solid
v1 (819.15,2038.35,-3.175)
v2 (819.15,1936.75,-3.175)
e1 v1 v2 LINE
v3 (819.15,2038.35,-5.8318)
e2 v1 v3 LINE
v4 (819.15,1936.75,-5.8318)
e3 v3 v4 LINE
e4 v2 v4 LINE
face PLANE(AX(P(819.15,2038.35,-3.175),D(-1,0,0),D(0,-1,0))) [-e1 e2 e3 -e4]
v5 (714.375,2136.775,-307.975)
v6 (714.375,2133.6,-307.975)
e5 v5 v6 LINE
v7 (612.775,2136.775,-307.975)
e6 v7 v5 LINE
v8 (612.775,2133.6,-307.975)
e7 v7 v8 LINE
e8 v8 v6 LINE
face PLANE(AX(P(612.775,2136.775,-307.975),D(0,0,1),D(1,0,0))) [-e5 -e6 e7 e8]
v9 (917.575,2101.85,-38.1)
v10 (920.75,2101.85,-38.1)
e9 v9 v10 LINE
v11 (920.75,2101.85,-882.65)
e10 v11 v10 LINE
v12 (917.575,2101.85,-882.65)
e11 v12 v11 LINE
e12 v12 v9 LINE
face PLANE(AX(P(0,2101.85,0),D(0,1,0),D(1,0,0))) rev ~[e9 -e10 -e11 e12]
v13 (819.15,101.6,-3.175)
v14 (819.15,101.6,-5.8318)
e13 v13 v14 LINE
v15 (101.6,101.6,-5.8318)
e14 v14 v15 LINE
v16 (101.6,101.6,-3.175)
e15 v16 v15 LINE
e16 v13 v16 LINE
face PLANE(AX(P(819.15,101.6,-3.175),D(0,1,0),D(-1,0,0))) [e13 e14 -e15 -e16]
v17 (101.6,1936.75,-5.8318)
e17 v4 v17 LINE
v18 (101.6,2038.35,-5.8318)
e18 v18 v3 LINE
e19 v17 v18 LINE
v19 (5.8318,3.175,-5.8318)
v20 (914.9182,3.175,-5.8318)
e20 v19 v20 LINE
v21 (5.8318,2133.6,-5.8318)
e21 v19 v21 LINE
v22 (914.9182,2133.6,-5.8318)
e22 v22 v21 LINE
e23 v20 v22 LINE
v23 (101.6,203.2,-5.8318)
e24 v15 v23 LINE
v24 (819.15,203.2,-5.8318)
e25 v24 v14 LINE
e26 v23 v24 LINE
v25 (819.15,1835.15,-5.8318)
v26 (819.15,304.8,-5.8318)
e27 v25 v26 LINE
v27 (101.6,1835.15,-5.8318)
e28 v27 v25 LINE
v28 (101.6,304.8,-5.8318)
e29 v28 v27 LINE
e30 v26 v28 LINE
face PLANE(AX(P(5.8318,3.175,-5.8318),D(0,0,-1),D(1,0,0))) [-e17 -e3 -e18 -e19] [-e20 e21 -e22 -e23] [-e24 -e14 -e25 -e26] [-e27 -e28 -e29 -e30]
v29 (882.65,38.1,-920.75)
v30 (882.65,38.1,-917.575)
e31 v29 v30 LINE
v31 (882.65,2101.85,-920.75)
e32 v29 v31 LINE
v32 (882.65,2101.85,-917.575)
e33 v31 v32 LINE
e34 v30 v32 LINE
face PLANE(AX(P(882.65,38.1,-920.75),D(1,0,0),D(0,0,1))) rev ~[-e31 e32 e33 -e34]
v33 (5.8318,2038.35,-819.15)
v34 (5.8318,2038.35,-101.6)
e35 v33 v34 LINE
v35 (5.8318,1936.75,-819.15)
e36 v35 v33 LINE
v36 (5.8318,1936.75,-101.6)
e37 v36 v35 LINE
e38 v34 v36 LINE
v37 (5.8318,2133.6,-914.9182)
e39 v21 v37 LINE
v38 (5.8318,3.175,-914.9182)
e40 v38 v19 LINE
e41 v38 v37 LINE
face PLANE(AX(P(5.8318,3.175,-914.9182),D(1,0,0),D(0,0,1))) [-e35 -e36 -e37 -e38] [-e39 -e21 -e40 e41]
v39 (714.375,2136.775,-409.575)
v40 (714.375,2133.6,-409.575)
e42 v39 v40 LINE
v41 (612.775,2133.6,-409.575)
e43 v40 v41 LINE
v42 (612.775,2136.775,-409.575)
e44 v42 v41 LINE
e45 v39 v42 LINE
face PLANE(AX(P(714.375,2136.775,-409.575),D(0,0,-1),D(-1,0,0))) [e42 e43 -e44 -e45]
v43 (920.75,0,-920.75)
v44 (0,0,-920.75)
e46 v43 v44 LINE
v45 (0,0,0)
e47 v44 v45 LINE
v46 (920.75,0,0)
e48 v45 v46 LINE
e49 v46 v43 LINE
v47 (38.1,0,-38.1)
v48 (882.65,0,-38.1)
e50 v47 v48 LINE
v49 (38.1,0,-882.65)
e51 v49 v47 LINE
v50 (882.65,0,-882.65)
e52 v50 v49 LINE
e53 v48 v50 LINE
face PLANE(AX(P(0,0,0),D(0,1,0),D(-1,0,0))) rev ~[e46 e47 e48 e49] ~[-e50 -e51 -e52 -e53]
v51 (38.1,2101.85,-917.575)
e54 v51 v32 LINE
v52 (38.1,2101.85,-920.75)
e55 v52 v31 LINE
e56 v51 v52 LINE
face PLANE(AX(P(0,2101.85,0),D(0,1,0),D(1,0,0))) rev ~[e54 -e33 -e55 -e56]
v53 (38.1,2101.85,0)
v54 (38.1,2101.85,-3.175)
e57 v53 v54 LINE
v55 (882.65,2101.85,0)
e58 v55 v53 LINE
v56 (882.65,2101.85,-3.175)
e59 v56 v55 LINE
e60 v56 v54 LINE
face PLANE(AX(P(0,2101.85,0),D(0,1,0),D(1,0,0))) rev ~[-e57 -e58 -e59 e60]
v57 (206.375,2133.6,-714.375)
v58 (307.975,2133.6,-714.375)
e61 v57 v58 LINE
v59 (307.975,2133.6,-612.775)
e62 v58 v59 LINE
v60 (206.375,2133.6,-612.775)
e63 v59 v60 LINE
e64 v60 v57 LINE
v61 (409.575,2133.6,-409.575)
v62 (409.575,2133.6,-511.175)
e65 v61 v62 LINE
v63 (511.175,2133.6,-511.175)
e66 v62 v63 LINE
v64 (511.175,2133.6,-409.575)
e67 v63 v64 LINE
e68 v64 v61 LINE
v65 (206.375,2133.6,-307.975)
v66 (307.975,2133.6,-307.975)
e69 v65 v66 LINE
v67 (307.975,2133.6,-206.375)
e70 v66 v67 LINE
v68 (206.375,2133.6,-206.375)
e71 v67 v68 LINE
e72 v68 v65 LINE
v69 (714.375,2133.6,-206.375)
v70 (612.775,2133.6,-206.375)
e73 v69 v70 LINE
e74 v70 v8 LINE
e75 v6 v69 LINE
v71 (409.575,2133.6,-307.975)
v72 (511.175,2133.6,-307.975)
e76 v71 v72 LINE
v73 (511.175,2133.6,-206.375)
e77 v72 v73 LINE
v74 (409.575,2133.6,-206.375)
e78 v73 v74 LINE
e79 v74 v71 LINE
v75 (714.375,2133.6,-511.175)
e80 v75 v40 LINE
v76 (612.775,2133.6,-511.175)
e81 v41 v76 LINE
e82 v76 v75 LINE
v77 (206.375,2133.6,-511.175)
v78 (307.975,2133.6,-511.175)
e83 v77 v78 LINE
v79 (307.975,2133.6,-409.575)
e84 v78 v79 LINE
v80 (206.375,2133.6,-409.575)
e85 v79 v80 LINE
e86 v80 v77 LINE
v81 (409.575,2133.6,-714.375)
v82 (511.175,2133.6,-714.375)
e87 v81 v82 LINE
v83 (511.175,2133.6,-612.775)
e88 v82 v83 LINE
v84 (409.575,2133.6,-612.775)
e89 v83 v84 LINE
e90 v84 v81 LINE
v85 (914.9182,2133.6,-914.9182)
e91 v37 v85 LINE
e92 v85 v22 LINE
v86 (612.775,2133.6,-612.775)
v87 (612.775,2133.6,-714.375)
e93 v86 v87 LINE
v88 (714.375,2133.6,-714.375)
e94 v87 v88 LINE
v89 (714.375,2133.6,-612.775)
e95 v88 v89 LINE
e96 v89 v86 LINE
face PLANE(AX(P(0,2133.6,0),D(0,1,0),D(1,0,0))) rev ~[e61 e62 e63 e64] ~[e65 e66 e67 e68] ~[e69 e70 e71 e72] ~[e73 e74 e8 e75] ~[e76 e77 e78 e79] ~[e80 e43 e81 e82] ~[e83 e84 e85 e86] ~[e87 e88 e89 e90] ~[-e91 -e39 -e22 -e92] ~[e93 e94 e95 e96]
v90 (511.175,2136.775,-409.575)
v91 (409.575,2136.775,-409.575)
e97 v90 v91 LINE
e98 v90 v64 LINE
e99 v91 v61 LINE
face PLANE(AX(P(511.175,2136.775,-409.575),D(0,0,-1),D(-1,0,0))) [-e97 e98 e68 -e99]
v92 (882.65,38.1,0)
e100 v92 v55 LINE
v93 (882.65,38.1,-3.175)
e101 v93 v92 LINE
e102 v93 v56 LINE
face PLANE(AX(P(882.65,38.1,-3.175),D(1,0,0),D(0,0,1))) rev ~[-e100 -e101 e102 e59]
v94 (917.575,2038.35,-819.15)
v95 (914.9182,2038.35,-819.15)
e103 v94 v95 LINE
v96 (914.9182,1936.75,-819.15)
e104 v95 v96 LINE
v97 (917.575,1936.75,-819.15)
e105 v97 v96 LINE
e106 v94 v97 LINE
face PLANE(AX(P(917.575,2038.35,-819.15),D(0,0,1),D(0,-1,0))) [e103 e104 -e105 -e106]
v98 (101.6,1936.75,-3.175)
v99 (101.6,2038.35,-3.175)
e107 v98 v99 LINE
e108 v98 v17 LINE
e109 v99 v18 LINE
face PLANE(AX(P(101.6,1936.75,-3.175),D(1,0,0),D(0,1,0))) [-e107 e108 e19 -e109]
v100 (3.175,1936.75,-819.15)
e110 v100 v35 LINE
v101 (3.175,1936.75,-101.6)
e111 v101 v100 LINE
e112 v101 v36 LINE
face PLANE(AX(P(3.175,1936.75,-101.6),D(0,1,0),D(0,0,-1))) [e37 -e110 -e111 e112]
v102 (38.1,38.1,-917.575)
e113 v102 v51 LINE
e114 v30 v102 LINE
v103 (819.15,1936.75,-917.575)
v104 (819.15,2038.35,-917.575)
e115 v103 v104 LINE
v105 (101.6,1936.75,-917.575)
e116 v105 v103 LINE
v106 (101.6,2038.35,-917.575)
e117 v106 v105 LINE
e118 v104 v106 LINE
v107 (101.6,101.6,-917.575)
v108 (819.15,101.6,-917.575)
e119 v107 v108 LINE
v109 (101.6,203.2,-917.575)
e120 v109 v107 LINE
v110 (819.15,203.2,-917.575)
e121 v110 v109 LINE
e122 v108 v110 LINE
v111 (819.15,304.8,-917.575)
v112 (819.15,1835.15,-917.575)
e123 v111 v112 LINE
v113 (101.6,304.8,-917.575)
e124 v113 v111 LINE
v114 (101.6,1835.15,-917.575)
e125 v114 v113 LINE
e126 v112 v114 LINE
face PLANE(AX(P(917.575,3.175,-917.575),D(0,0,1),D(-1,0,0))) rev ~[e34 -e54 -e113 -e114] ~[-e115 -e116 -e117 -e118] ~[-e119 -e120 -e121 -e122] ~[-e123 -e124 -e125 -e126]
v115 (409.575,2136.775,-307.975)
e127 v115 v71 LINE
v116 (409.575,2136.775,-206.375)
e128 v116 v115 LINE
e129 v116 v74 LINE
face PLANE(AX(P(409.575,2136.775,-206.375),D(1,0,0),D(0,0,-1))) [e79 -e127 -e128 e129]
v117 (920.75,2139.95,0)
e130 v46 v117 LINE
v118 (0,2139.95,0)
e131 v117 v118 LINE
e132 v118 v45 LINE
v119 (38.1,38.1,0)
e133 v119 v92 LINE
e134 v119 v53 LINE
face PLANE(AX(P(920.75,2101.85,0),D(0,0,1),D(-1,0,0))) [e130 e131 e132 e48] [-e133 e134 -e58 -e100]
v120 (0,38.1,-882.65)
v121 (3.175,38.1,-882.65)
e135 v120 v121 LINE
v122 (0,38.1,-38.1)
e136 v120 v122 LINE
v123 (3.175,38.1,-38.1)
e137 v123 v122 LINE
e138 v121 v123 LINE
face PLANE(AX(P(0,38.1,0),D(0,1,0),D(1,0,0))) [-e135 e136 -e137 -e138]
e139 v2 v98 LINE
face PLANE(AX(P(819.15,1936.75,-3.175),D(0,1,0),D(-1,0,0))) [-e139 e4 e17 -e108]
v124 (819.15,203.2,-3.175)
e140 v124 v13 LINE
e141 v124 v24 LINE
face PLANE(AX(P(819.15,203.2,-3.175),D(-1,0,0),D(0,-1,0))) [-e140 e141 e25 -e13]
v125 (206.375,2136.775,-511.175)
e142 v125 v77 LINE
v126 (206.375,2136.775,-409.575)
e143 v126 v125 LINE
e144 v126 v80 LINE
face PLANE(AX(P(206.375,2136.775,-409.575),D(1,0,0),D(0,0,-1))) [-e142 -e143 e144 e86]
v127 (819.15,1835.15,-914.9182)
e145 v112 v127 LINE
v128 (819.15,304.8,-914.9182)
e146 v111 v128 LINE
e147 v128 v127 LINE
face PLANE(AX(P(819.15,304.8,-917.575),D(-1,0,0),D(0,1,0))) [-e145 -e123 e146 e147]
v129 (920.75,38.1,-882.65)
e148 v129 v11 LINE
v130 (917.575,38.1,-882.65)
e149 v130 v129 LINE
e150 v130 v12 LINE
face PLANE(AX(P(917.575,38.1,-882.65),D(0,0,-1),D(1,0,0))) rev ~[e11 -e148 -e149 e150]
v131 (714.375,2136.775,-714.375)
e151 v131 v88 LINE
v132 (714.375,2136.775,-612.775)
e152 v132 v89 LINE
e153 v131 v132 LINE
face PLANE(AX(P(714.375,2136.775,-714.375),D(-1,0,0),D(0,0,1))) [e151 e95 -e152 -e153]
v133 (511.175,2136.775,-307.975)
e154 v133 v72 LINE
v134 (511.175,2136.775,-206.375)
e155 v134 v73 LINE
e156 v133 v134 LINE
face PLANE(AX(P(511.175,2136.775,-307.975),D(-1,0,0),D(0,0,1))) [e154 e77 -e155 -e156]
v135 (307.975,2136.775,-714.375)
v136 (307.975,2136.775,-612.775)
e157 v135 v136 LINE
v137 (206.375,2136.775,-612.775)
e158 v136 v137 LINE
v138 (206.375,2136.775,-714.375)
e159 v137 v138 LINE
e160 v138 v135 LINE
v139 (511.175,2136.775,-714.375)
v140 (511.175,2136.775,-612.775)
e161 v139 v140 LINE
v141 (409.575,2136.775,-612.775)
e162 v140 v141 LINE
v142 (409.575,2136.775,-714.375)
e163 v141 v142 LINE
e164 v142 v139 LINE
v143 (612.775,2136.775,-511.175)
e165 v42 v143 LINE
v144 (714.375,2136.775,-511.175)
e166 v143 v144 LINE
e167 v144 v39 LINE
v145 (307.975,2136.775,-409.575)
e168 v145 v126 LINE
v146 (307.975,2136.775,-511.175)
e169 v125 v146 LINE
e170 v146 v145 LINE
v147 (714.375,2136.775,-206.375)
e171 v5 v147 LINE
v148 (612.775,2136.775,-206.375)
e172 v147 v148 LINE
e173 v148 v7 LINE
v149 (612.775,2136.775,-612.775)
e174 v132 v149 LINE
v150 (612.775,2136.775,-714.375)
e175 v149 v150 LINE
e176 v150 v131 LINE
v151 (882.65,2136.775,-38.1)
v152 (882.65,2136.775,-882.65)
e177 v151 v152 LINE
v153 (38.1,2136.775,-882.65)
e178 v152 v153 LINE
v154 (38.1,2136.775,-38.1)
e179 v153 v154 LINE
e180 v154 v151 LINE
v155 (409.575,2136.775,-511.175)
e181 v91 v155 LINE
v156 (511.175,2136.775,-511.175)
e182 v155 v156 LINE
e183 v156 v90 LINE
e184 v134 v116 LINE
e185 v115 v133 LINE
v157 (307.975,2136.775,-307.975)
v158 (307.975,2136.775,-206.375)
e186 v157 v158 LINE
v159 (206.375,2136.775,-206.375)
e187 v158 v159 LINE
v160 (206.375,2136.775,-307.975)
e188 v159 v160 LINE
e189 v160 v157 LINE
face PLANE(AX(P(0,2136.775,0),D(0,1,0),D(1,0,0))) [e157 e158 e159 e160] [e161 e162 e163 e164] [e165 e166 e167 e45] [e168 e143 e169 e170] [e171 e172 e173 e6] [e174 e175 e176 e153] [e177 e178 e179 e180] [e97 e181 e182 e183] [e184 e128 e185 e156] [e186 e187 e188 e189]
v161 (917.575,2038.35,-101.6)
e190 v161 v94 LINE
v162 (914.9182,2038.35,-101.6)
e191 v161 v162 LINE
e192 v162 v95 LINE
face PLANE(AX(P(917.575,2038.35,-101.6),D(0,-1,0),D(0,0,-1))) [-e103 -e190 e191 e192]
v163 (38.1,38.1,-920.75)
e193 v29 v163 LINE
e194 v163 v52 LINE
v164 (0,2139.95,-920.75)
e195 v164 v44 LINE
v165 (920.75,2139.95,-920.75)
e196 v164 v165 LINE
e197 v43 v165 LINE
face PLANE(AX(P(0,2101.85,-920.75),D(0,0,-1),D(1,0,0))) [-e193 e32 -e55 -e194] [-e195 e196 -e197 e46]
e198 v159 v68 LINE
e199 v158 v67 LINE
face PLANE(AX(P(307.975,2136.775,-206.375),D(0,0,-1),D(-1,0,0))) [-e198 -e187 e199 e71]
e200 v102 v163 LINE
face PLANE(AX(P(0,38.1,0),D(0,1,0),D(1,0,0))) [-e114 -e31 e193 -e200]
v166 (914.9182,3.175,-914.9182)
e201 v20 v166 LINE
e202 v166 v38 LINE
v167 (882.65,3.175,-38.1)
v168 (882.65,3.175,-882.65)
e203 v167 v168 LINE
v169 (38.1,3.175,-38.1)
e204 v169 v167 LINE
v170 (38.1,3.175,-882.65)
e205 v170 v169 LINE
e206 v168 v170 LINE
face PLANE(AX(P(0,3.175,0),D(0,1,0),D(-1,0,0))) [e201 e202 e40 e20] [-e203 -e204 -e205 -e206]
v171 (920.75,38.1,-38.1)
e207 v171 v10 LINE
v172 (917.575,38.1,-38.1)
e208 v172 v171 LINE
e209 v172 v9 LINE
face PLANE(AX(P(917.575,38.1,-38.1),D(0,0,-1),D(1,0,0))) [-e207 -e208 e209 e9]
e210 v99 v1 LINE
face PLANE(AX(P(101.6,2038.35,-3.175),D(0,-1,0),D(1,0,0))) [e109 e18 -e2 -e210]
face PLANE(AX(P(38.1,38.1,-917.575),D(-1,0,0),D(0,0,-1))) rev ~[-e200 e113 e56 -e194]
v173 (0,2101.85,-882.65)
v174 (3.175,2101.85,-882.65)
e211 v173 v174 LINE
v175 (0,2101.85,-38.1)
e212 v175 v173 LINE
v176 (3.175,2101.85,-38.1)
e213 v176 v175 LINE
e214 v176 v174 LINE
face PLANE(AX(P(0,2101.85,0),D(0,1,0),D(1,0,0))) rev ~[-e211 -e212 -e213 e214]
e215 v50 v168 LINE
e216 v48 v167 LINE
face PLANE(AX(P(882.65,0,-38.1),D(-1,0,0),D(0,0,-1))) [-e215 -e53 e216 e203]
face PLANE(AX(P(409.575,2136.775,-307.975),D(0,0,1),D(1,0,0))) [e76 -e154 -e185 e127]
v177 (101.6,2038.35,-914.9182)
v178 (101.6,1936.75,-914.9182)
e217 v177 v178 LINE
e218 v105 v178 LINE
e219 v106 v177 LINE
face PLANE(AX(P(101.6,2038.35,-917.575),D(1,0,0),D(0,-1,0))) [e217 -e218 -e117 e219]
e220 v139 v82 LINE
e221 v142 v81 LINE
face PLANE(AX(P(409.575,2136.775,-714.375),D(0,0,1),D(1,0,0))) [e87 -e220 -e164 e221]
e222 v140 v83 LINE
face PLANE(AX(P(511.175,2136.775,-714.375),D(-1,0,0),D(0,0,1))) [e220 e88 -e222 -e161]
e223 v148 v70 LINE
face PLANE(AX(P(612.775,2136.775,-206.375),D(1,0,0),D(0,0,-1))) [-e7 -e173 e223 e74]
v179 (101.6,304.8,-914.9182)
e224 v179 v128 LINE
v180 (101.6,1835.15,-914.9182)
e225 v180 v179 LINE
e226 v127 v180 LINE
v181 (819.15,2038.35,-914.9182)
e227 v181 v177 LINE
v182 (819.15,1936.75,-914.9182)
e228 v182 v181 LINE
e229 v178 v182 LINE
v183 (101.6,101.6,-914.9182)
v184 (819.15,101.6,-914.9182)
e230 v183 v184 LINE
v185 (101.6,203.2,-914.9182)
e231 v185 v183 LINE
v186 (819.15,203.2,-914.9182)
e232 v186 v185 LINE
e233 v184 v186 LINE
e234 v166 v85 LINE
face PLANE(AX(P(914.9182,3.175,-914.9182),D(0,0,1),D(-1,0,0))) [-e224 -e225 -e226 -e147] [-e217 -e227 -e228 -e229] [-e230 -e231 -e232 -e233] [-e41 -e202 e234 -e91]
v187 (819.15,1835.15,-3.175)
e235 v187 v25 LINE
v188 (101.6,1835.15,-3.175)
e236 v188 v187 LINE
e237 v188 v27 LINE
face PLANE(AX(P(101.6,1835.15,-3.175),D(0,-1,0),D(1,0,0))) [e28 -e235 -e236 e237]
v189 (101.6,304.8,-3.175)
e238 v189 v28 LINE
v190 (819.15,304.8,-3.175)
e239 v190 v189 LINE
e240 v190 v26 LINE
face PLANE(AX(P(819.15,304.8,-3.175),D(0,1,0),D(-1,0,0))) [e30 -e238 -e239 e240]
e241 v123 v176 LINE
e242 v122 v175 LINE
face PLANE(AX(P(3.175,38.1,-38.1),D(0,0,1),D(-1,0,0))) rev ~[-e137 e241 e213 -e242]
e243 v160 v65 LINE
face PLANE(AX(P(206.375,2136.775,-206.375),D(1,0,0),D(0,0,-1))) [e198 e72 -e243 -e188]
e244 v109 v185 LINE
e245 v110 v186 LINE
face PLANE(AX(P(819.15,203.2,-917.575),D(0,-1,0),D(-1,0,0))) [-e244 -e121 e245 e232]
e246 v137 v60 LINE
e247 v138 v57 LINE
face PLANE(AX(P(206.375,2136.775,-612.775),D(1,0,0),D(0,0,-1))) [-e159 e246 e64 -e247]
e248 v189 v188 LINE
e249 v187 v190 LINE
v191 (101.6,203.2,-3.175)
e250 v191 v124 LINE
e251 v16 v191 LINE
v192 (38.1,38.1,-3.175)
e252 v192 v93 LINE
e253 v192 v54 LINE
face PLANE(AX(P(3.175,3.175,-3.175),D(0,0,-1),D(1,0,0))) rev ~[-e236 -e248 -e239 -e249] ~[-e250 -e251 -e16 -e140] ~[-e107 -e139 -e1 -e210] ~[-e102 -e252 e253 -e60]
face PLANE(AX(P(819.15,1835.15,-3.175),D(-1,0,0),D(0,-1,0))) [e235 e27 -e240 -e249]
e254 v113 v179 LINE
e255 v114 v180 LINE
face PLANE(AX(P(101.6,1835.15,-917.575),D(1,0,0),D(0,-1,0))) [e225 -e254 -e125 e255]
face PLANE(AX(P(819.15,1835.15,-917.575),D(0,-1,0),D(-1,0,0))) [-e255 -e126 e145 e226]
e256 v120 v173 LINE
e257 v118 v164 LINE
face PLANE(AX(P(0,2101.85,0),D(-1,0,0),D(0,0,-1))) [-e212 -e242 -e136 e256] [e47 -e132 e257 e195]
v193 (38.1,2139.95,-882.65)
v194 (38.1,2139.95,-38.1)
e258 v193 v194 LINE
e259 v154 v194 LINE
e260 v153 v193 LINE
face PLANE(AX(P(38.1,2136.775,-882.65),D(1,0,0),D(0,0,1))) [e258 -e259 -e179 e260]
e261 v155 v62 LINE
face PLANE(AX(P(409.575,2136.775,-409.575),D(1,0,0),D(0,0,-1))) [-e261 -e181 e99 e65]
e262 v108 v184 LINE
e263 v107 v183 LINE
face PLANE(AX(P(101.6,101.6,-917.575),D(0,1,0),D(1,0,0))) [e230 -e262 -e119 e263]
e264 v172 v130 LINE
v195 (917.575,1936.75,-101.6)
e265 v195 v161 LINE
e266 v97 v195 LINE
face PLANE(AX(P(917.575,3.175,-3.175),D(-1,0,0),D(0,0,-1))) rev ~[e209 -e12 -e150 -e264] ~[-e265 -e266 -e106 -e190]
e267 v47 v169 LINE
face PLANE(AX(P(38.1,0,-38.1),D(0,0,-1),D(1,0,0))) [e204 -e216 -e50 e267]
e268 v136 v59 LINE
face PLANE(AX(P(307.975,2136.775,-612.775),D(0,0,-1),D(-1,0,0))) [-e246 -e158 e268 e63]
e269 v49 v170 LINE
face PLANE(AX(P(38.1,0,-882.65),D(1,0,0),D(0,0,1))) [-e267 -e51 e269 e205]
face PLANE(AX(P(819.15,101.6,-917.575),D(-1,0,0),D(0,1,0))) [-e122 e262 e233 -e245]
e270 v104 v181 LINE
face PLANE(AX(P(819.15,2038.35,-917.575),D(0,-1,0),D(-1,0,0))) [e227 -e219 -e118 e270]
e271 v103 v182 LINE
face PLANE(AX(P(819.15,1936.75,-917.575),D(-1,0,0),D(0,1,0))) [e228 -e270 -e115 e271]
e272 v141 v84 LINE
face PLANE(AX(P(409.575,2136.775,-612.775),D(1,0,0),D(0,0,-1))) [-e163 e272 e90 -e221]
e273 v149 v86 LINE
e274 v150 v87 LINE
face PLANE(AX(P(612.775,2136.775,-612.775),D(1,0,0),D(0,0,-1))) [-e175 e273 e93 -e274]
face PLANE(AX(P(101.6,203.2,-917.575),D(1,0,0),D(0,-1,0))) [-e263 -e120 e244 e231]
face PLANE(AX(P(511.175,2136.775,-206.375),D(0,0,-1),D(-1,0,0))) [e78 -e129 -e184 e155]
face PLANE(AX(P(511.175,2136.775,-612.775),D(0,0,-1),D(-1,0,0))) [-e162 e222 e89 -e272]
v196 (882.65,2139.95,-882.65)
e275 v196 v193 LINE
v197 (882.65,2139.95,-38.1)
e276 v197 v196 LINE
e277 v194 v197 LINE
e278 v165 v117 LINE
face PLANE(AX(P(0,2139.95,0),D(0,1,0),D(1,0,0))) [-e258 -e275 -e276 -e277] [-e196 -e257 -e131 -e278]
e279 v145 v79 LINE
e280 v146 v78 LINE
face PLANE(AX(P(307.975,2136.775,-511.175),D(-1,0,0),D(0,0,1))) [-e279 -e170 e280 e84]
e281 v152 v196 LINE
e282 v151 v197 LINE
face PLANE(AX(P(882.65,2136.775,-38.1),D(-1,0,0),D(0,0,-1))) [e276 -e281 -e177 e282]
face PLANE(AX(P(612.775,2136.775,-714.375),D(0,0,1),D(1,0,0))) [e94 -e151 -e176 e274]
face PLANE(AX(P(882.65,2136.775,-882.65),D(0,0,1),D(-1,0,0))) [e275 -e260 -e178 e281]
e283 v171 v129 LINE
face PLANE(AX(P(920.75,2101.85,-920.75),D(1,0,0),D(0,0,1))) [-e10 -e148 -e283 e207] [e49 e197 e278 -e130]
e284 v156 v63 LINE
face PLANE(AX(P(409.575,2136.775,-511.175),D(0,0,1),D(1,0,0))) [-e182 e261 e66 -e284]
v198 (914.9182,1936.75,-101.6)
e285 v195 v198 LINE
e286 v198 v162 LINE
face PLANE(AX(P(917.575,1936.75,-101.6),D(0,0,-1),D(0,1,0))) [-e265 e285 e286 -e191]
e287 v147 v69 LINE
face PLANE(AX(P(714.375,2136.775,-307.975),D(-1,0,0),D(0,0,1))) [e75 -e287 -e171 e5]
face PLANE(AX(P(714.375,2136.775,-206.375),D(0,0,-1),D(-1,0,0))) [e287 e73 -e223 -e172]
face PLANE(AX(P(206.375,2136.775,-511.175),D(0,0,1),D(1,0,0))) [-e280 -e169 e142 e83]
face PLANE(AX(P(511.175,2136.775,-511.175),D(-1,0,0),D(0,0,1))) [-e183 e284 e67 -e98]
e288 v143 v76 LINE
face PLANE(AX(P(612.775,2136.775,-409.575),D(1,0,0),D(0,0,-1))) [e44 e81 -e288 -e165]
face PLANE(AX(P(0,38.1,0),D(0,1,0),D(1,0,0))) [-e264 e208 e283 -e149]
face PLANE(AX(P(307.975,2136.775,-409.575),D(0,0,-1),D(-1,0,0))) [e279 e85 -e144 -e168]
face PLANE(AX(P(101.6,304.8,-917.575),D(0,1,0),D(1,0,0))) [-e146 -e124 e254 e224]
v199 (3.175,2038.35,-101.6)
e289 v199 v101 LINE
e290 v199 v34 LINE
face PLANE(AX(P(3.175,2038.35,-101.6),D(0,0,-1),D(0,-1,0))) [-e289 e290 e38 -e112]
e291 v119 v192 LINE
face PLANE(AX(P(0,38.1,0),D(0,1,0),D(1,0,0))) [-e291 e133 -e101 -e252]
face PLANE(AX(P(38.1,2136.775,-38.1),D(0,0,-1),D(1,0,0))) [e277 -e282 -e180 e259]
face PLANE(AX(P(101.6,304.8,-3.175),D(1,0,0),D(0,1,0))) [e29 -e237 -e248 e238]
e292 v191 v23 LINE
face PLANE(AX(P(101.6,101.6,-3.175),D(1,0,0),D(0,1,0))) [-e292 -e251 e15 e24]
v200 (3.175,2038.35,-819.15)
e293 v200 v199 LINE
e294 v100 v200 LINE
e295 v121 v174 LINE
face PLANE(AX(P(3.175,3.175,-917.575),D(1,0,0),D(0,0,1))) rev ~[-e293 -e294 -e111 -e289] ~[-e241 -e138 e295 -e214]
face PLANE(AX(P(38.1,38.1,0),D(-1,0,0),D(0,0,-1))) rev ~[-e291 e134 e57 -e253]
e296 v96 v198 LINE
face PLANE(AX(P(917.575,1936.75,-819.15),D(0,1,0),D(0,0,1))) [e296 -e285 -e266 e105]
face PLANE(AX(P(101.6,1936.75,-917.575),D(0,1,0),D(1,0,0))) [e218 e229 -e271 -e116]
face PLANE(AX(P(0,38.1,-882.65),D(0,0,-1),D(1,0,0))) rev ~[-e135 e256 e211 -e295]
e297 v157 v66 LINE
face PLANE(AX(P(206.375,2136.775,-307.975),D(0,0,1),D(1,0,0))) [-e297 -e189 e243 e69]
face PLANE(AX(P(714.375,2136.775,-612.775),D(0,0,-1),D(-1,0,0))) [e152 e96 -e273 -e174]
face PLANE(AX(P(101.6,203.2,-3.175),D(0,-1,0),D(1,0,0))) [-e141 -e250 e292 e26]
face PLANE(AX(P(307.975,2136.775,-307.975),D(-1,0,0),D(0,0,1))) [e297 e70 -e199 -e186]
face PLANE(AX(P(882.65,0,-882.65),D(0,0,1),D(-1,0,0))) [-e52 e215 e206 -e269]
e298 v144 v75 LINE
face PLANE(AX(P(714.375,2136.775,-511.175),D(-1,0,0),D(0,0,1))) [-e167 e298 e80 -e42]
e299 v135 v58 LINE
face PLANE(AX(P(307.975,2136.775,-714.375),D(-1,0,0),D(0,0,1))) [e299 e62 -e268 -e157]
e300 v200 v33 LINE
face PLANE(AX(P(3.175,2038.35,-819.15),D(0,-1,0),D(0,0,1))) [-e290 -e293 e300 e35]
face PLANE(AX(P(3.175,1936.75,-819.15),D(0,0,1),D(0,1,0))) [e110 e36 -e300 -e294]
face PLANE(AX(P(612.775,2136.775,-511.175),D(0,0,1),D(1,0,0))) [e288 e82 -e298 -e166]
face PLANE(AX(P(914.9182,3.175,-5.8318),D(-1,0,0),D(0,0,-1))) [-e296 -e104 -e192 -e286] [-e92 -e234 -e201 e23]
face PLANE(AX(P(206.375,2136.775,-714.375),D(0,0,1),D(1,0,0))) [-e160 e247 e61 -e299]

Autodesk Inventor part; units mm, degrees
ref_plane "YZ Plane" through (0, 0, 0) normal (1, 0, 0) x (0, 1, 0)
ref_plane "XZ Plane" through (0, 0, 0) normal (0, 1, 0) x (-1, 0, 0)
ref_plane "XY Plane" through (0, 0, 0) normal (0, 0, 1) x (1, 0, 0)
sketch "Sketch1" plane through (0, 0, 0) normal (0, 1, 0) x (-1, 0, 0)
  line L0 (0, 0) -> (-920.75, 0)
  line L1 (-920.75, 0) -> (-920.75, -920.75)
  line L2 (-920.75, -920.75) -> (0, -920.75)
  line L3 (0, -920.75) -> (0, 0)
  line L4 (-38.1, -38.1) -> (-882.65, -38.1)
  line L5 (-882.65, -38.1) -> (-882.65, -882.65)
  line L6 (-882.65, -882.65) -> (-38.1, -882.65)
  line L7 (-38.1, -882.65) -> (-38.1, -38.1)
  dimension "d0" = 920.75
  dimension "d3" = 920.75
  dimension "d4" = 38.1
  dimension "d5" = 38.1
  dimension "d6" = 38.1
  dimension "d7" = 38.1
extrude "Extrusion1" add sketch "Sketch1" along normal blind 3.175
sketch "Sketch2" plane through (0, 3.175, 0) normal (0, 1, 0) x (1, 0, 0)
  line L0 (0, 0) -> (920.75, 0) projected
  line L1 (920.75, 0) -> (920.75, 920.75) projected
  line L2 (920.75, 920.75) -> (0, 920.75) projected
  line L3 (0, 0) -> (920.75, 0)
  line L4 (920.75, 0) -> (920.75, 920.75)
  line L5 (920.75, 920.75) -> (0, 920.75)
  line L6 (0, 920.75) -> (0, 0)
  line L7 (3.175, 3.175) -> (917.575, 3.175)
  line L8 (917.575, 3.175) -> (917.575, 917.575)
  line L9 (917.575, 917.575) -> (3.175, 917.575)
  line L10 (3.175, 917.575) -> (3.175, 3.175)
  dimension "d10" = 3.175
  dimension "d12" = 3.175
  dimension "d13" = 3.175
  dimension "d14" = 3.175
extrude "Extrusion2" add sketch "Sketch2" along normal blind 34.925
sketch "Sketch3" plane through (0, 38.1, 0) normal (0, 1, 0) x (1, 0, 0)
  line L0 (3.175, 3.175) -> (3.175, 917.575) projected
  line L1 (917.575, 917.575) -> (917.575, 3.175) projected
  line L2 (917.575, 3.175) -> (3.175, 3.175) projected
  line L3 (0, 0) -> (920.75, 0) projected
  line L4 (920.75, 0) -> (920.75, 920.75) projected
  line L5 (0, 920.75) -> (0, 0) projected
  line L6 (0, 0) -> (38.1, 0)
  line L7 (38.1, 3.175) -> (3.175, 3.175)
  line L8 (3.175, 38.1) -> (0, 38.1)
  line L9 (38.1, 0) -> (38.1, 3.175)
  line L10 (920.75, 0) -> (920.75, 38.1)
  line L11 (917.575, 38.1) -> (917.575, 3.175)
  line L12 (882.65, 3.175) -> (882.65, 0)
  line L13 (917.575, 38.1) -> (920.75, 38.1)
  dimension "d17" = 38.1
  dimension "d18" = 38.1
  dimension "d19" = 38.1
  dimension "d20" = 38.1
  dimension "d21" = 38.1
  dimension "d22" = 38.1
extrude "Extrusion3" add sketch "Sketch3" along normal blind 2063.75 contours L2 L9 L3 L5 L8 L0 | L2 L1 L13 L4 L3 L12
sketch "Sketch4" plane through (0, 38.1, 0) normal (0, 1, 0) x (1, 0, 0)
  line L0 (3.175, 38.1) -> (3.175, 917.575) projected
  line L1 (3.175, 917.575) -> (917.575, 917.575) projected
  line L2 (917.575, 917.575) -> (917.575, 38.1) projected
  line L3 (920.75, 38.1) -> (920.75, 920.75) projected
  line L4 (920.75, 920.75) -> (0, 920.75) projected
  line L5 (0, 920.75) -> (0, 38.1) projected
  line L6 (0, 920.75) -> (0, 882.65)
  line L7 (3.175, 882.65) -> (3.175, 917.575)
  line L8 (38.1, 917.575) -> (38.1, 920.75)
  line L9 (0, 882.65) -> (3.175, 882.65)
  line L10 (920.75, 920.75) -> (882.65, 920.75)
  line L11 (882.65, 917.575) -> (917.575, 917.575)
  line L12 (917.575, 882.65) -> (920.75, 882.65)
  line L13 (882.65, 920.75) -> (882.65, 917.575)
  point P0 (0, 0)
  dimension "d25" = 38.1
  dimension "d26" = 38.1
  dimension "d27" = 38.1
  dimension "d28" = 38.1
extrude "Extrusion4" add sketch "Sketch4" along normal blind 2063.75 contours L9 L5 L4 L8 L1 L0 | L13 L4 L3 L12 L2 L1
sketch "Sketch5" plane through (0, 3.175, 0) normal (0, 1, 0) x (1, 0, 0)
  line L0 (3.175, 3.175) -> (917.575, 3.175) projected
  line L1 (3.175, 3.175) -> (917.575, 3.175)
  line L2 (917.575, 3.175) -> (917.575, 917.575)
  line L3 (917.575, 917.575) -> (3.175, 917.575)
  line L4 (3.175, 917.575) -> (3.175, 3.175)
  line L5 (5.8318, 5.8318) -> (914.9182, 5.8318)
  line L6 (914.9182, 5.8318) -> (914.9182, 914.9182)
  line L7 (914.9182, 914.9182) -> (5.8318, 914.9182)
  line L8 (5.8318, 914.9182) -> (5.8318, 5.8318)
  point P0 (0, 0)
  dimension "d31" = 914.4
  dimension "d33" = 914.4
  dimension "d34" = 2.6568
  dimension "d35" = 2.6568
  dimension "d36" = 909.0863
  dimension "d37" = 909.0863
extrude "Extrusion5" add sketch "Sketch5" along normal blind 2133.6
sketch "Sketch6" plane through (0, 2101.85, 0) normal (0, 1, 0) x (1, 0, 0)
  line L0 (920.75, 0) -> (0, 0)
  line L1 (0, 0) -> (0, 920.75)
  line L2 (0, 920.75) -> (920.75, 920.75)
  line L3 (920.75, 920.75) -> (920.75, 0)
  line L4 (917.575, 3.175) -> (3.175, 3.175)
  line L5 (3.175, 3.175) -> (3.175, 917.575)
  line L6 (3.175, 917.575) -> (917.575, 917.575)
  line L7 (917.575, 917.575) -> (917.575, 3.175)
  point P0 (0, 0)
  dimension "d40" = 920.75
  dimension "d42" = 920.75
  dimension "d43" = 914.4
  dimension "d44" = 914.4
extrude "Extrusion6" add sketch "Sketch6" along normal blind 38.1
sketch "Sketch7" plane through (0, 2136.775, 0) normal (0, 1, 0) x (1, 0, 0)
  line L0 (5.8318, 5.8318) -> (5.8318, 914.9182) projected
  line L1 (5.8318, 914.9182) -> (914.9182, 914.9182) projected
  line L2 (914.9182, 914.9182) -> (914.9182, 5.8318) projected
  line L3 (914.9182, 5.8318) -> (5.8318, 5.8318) projected
  line L4 (5.8318, 5.8318) -> (914.9182, 5.8318)
  line L5 (914.9182, 5.8318) -> (914.9182, 914.9182)
  line L6 (914.9182, 914.9182) -> (5.8318, 914.9182)
  line L7 (5.8318, 914.9182) -> (5.8318, 5.8318)
  point P0 (0, 0)
  dimension "d47" = 909.0863
  dimension "d49" = 909.0863
extrude "Extrusion7" add sketch "Sketch7" against normal blind 3.175
sketch "Sketch8" plane through (0, 2136.775, 0) normal (0, 1, 0) x (1, 0, 0)
  line L0 (3.175, 3.175) -> (917.575, 3.175) projected
  line L1 (917.575, 3.175) -> (917.575, 917.575) projected
  line L2 (917.575, 917.575) -> (3.175, 917.575) projected
  line L3 (3.175, 917.575) -> (3.175, 3.175) projected
  line L4 (3.175, 3.175) -> (917.575, 3.175)
  line L5 (917.575, 3.175) -> (917.575, 917.575)
  line L6 (917.575, 917.575) -> (3.175, 917.575)
  line L7 (3.175, 917.575) -> (3.175, 3.175)
  line L8 (38.1, 38.1) -> (882.65, 38.1)
  line L9 (882.65, 38.1) -> (882.65, 882.65)
  line L10 (882.65, 882.65) -> (38.1, 882.65)
  line L11 (38.1, 882.65) -> (38.1, 38.1)
  point P0 (0, 0)
  dimension "d52" = 914.4
  dimension "d54" = 914.4
  dimension "d55" = 34.925
  dimension "d56" = 34.925
  dimension "d57" = 844.55
  dimension "d58" = 844.55
extrude "Extrusion8" add sketch "Sketch8" along normal blind 3.175
sketch "Sketch9" plane through (38.1, 38.1, -3.175) normal (0, 0, 1) x (1, 0, 0)
  line L0 (844.55, 2063.75) -> (0, 2063.75) projected
  line L1 (0, 0) -> (0, 2063.75) projected
  line L2 (844.55, 0) -> (0, 0) projected
  line L3 (844.55, 0) -> (844.55, 2063.75) projected
  line L4 (63.5, 2000.25) -> (781.05, 2000.25)
  line L5 (781.05, 2000.25) -> (781.05, 1898.65)
  line L6 (781.05, 1898.65) -> (63.5, 1898.65)
  line L7 (63.5, 1898.65) -> (63.5, 2000.25)
  line L8 (63.5, 1797.05) -> (781.05, 1797.05)
  line L9 (781.05, 1797.05) -> (781.05, 266.7)
  line L10 (781.05, 266.7) -> (63.5, 266.7)
  line L11 (63.5, 266.7) -> (63.5, 1797.05)
  line L12 (63.5, 165.1) -> (781.05, 165.1)
  line L13 (781.05, 165.1) -> (781.05, 63.5)
  line L14 (781.05, 63.5) -> (63.5, 63.5)
  line L15 (63.5, 63.5) -> (63.5, 165.1)
  point P0 (-38.1, -38.1)
  dimension "d61" = 63.5
  dimension "d62" = 0
  dimension "d63" = 0
  dimension "d64" = 63.5
  dimension "d65" = 101.6
  dimension "d66" = 63.5
  dimension "d67" = 101.6
  dimension "d68" = 101.6
  dimension "d69" = 101.6
  dimension "d70" = 63.5
  dimension "d71" = 0
  dimension "d72" = 0
extrude "Extrusion9" cut sketch "Sketch9" against normal blind 2.6568 contours L4 L5 L6 L7 | L8 L9 L10 L11 | L12 L13 L14 L15
sketch "Sketch10" plane through (882.65, 38.1, -917.575) normal (0, 0, -1) x (-1, 0, 0)
  line L0 (844.55, 2063.75) -> (0, 2063.75) projected
  line L1 (0, 0) -> (0, 2063.75) projected
  line L2 (844.55, 0) -> (0, 0) projected
  line L3 (844.55, 0) -> (844.55, 2063.75) projected
  line L4 (63.5, 2000.25) -> (781.05, 2000.25)
  line L5 (781.05, 2000.25) -> (781.05, 1898.65)
  line L6 (781.05, 1898.65) -> (63.5, 1898.65)
  line L7 (63.5, 1898.65) -> (63.5, 2000.25)
  line L8 (63.5, 1797.05) -> (781.05, 1797.05)
  line L9 (781.05, 1797.05) -> (781.05, 266.7)
  line L10 (781.05, 266.7) -> (63.5, 266.7)
  line L11 (63.5, 266.7) -> (63.5, 1797.05)
  line L12 (63.5, 165.1) -> (781.05, 165.1)
  line L13 (781.05, 165.1) -> (781.05, 63.5)
  line L14 (781.05, 63.5) -> (63.5, 63.5)
  line L15 (63.5, 63.5) -> (63.5, 165.1)
  point P0 (882.65, -38.1)
  dimension "d75" = 63.5
  dimension "d76" = 63.5
  dimension "d77" = 63.5
  dimension "d78" = 101.6
  dimension "d79" = 101.6
  dimension "d80" = 0
  dimension "d81" = 0
  dimension "d82" = 101.6
  dimension "d83" = 101.6
  dimension "d84" = 63.5
  dimension "d85" = 0
  dimension "d86" = 0
extrude "Extrusion10" cut sketch "Sketch10" against normal blind 2.6568 contours L4 L5 L6 L7 | L8 L9 L10 L11 | L12 L13 L14 L15
sketch "Sketch11" plane through (917.575, 38.1, -38.1) normal (1, 0, 0) x (0, 0, -1)
  line L0 (844.55, 2063.75) -> (0, 2063.75) projected
  line L1 (0, 0) -> (0, 2063.75) projected
  line L2 (844.55, 0) -> (844.55, 2063.75) projected
  line L3 (63.5, 2000.25) -> (781.05, 2000.25)
  line L4 (781.05, 2000.25) -> (781.05, 1898.65)
  line L5 (781.05, 1898.65) -> (63.5, 1898.65)
  line L6 (63.5, 1898.65) -> (63.5, 2000.25)
  point P0 (-38.1, -38.1)
  dimension "d89" = 63.5
  dimension "d90" = 63.5
  dimension "d91" = 63.5
  dimension "d92" = 101.6
extrude "Extrusion11" cut sketch "Sketch11" against normal blind 2.6568
sketch "Sketch12" plane through (3.175, 38.1, -882.65) normal (-1, 0, 0) x (0, 0, 1)
  line L0 (844.55, 2063.75) -> (0, 2063.75) projected
  line L1 (0, 0) -> (0, 2063.75) projected
  line L2 (844.55, 0) -> (844.55, 2063.75) projected
  line L3 (63.5, 2000.25) -> (781.05, 2000.25)
  line L4 (781.05, 2000.25) -> (781.05, 1898.65)
  line L5 (781.05, 1898.65) -> (63.5, 1898.65)
  line L6 (63.5, 1898.65) -> (63.5, 2000.25)
  point P0 (882.65, -38.1)
  dimension "d95" = 63.5
  dimension "d96" = 63.5
  dimension "d97" = 63.5
  dimension "d98" = 101.6
extrude "Extrusion12" cut sketch "Sketch12" against normal blind 2.6568
sketch "Sketch13" plane through (0, 2136.775, 0) normal (0, 1, 0) x (1, 0, 0)
  line L0 (920.75, 920.75) -> (0, 920.75) projected
  line L1 (0, 920.75) -> (0, 0) projected
  line L2 (409.575, 511.175) -> (511.175, 511.175)
  line L3 (511.175, 511.175) -> (511.175, 409.575)
  line L4 (511.175, 409.575) -> (409.575, 409.575)
  line L5 (409.575, 409.575) -> (409.575, 511.175)
  line L6 (0, 0) -> (920.75, 0) projected
  line L7 (612.775, 511.175) -> (714.375, 511.175)
  line L8 (714.375, 511.175) -> (714.375, 409.575)
  line L9 (714.375, 409.575) -> (612.775, 409.575)
  line L10 (612.775, 409.575) -> (612.775, 511.175)
  line L11 (206.375, 511.175) -> (307.975, 511.175)
  line L12 (307.975, 511.175) -> (307.975, 409.575)
  line L13 (307.975, 409.575) -> (206.375, 409.575)
  line L14 (206.375, 409.575) -> (206.375, 511.175)
  line L15 (409.575, 714.375) -> (511.175, 714.375)
  line L16 (511.175, 714.375) -> (511.175, 612.775)
  line L17 (511.175, 612.775) -> (409.575, 612.775)
  line L18 (409.575, 612.775) -> (409.575, 714.375)
  line L19 (612.775, 714.375) -> (714.375, 714.375)
  line L20 (714.375, 714.375) -> (714.375, 612.775)
  line L21 (714.375, 612.775) -> (612.775, 612.775)
  line L22 (612.775, 612.775) -> (612.775, 714.375)
  line L23 (206.375, 714.375) -> (307.975, 714.375)
  line L24 (307.975, 714.375) -> (307.975, 612.775)
  line L25 (307.975, 612.775) -> (206.375, 612.775)
  line L26 (206.375, 612.775) -> (206.375, 714.375)
  line L27 (409.575, 307.975) -> (511.175, 307.975)
  line L28 (511.175, 307.975) -> (511.175, 206.375)
  line L29 (511.175, 206.375) -> (409.575, 206.375)
  line L30 (409.575, 206.375) -> (409.575, 307.975)
  line L31 (612.775, 307.975) -> (714.375, 307.975)
  line L32 (714.375, 307.975) -> (714.375, 206.375)
  line L33 (714.375, 206.375) -> (612.775, 206.375)
  line L34 (612.775, 206.375) -> (612.775, 307.975)
  line L35 (206.375, 307.975) -> (307.975, 307.975)
  line L36 (307.975, 307.975) -> (307.975, 206.375)
  line L37 (307.975, 206.375) -> (206.375, 206.375)
  line L38 (206.375, 206.375) -> (206.375, 307.975)
  dimension "d150" = 409.575
  dimension "d151" = 101.6
  dimension "d152" = 409.575
  dimension "d153" = 101.6
  dimension "d154" = 101.6
  dimension "d155" = 101.6
  dimension "d156" = 101.6
  dimension "d157" = 101.6
  dimension "d158" = 101.6
  dimension "d159" = 101.6
  dimension "d160" = 101.6
  dimension "d161" = 101.6
  dimension "d162" = 101.6
  dimension "d163" = 101.6
  dimension "d164" = 101.6
  dimension "d165" = 101.6
  dimension "d166" = 101.6
  dimension "d167" = 101.6
  dimension "d168" = 101.6
  dimension "d169" = 101.6
  dimension "d170" = 101.6
  dimension "d171" = 101.6
  dimension "d172" = 101.6
  dimension "d173" = 101.6
  dimension "d174" = 101.6
  dimension "d175" = 101.6
  dimension "d176" = 101.6
  dimension "d177" = 101.6
  dimension "d178" = 101.6
  dimension "d179" = 101.6
  dimension "d180" = 101.6
  dimension "d181" = 101.6
  dimension "d182" = 101.6
  dimension "d183" = 101.6
  dimension "d184" = 101.6
  dimension "d185" = 101.6
extrude "Extrusion13" cut sketch "Sketch13" against normal blind 3.175
properties part number "Cabinet_3x3x7"
